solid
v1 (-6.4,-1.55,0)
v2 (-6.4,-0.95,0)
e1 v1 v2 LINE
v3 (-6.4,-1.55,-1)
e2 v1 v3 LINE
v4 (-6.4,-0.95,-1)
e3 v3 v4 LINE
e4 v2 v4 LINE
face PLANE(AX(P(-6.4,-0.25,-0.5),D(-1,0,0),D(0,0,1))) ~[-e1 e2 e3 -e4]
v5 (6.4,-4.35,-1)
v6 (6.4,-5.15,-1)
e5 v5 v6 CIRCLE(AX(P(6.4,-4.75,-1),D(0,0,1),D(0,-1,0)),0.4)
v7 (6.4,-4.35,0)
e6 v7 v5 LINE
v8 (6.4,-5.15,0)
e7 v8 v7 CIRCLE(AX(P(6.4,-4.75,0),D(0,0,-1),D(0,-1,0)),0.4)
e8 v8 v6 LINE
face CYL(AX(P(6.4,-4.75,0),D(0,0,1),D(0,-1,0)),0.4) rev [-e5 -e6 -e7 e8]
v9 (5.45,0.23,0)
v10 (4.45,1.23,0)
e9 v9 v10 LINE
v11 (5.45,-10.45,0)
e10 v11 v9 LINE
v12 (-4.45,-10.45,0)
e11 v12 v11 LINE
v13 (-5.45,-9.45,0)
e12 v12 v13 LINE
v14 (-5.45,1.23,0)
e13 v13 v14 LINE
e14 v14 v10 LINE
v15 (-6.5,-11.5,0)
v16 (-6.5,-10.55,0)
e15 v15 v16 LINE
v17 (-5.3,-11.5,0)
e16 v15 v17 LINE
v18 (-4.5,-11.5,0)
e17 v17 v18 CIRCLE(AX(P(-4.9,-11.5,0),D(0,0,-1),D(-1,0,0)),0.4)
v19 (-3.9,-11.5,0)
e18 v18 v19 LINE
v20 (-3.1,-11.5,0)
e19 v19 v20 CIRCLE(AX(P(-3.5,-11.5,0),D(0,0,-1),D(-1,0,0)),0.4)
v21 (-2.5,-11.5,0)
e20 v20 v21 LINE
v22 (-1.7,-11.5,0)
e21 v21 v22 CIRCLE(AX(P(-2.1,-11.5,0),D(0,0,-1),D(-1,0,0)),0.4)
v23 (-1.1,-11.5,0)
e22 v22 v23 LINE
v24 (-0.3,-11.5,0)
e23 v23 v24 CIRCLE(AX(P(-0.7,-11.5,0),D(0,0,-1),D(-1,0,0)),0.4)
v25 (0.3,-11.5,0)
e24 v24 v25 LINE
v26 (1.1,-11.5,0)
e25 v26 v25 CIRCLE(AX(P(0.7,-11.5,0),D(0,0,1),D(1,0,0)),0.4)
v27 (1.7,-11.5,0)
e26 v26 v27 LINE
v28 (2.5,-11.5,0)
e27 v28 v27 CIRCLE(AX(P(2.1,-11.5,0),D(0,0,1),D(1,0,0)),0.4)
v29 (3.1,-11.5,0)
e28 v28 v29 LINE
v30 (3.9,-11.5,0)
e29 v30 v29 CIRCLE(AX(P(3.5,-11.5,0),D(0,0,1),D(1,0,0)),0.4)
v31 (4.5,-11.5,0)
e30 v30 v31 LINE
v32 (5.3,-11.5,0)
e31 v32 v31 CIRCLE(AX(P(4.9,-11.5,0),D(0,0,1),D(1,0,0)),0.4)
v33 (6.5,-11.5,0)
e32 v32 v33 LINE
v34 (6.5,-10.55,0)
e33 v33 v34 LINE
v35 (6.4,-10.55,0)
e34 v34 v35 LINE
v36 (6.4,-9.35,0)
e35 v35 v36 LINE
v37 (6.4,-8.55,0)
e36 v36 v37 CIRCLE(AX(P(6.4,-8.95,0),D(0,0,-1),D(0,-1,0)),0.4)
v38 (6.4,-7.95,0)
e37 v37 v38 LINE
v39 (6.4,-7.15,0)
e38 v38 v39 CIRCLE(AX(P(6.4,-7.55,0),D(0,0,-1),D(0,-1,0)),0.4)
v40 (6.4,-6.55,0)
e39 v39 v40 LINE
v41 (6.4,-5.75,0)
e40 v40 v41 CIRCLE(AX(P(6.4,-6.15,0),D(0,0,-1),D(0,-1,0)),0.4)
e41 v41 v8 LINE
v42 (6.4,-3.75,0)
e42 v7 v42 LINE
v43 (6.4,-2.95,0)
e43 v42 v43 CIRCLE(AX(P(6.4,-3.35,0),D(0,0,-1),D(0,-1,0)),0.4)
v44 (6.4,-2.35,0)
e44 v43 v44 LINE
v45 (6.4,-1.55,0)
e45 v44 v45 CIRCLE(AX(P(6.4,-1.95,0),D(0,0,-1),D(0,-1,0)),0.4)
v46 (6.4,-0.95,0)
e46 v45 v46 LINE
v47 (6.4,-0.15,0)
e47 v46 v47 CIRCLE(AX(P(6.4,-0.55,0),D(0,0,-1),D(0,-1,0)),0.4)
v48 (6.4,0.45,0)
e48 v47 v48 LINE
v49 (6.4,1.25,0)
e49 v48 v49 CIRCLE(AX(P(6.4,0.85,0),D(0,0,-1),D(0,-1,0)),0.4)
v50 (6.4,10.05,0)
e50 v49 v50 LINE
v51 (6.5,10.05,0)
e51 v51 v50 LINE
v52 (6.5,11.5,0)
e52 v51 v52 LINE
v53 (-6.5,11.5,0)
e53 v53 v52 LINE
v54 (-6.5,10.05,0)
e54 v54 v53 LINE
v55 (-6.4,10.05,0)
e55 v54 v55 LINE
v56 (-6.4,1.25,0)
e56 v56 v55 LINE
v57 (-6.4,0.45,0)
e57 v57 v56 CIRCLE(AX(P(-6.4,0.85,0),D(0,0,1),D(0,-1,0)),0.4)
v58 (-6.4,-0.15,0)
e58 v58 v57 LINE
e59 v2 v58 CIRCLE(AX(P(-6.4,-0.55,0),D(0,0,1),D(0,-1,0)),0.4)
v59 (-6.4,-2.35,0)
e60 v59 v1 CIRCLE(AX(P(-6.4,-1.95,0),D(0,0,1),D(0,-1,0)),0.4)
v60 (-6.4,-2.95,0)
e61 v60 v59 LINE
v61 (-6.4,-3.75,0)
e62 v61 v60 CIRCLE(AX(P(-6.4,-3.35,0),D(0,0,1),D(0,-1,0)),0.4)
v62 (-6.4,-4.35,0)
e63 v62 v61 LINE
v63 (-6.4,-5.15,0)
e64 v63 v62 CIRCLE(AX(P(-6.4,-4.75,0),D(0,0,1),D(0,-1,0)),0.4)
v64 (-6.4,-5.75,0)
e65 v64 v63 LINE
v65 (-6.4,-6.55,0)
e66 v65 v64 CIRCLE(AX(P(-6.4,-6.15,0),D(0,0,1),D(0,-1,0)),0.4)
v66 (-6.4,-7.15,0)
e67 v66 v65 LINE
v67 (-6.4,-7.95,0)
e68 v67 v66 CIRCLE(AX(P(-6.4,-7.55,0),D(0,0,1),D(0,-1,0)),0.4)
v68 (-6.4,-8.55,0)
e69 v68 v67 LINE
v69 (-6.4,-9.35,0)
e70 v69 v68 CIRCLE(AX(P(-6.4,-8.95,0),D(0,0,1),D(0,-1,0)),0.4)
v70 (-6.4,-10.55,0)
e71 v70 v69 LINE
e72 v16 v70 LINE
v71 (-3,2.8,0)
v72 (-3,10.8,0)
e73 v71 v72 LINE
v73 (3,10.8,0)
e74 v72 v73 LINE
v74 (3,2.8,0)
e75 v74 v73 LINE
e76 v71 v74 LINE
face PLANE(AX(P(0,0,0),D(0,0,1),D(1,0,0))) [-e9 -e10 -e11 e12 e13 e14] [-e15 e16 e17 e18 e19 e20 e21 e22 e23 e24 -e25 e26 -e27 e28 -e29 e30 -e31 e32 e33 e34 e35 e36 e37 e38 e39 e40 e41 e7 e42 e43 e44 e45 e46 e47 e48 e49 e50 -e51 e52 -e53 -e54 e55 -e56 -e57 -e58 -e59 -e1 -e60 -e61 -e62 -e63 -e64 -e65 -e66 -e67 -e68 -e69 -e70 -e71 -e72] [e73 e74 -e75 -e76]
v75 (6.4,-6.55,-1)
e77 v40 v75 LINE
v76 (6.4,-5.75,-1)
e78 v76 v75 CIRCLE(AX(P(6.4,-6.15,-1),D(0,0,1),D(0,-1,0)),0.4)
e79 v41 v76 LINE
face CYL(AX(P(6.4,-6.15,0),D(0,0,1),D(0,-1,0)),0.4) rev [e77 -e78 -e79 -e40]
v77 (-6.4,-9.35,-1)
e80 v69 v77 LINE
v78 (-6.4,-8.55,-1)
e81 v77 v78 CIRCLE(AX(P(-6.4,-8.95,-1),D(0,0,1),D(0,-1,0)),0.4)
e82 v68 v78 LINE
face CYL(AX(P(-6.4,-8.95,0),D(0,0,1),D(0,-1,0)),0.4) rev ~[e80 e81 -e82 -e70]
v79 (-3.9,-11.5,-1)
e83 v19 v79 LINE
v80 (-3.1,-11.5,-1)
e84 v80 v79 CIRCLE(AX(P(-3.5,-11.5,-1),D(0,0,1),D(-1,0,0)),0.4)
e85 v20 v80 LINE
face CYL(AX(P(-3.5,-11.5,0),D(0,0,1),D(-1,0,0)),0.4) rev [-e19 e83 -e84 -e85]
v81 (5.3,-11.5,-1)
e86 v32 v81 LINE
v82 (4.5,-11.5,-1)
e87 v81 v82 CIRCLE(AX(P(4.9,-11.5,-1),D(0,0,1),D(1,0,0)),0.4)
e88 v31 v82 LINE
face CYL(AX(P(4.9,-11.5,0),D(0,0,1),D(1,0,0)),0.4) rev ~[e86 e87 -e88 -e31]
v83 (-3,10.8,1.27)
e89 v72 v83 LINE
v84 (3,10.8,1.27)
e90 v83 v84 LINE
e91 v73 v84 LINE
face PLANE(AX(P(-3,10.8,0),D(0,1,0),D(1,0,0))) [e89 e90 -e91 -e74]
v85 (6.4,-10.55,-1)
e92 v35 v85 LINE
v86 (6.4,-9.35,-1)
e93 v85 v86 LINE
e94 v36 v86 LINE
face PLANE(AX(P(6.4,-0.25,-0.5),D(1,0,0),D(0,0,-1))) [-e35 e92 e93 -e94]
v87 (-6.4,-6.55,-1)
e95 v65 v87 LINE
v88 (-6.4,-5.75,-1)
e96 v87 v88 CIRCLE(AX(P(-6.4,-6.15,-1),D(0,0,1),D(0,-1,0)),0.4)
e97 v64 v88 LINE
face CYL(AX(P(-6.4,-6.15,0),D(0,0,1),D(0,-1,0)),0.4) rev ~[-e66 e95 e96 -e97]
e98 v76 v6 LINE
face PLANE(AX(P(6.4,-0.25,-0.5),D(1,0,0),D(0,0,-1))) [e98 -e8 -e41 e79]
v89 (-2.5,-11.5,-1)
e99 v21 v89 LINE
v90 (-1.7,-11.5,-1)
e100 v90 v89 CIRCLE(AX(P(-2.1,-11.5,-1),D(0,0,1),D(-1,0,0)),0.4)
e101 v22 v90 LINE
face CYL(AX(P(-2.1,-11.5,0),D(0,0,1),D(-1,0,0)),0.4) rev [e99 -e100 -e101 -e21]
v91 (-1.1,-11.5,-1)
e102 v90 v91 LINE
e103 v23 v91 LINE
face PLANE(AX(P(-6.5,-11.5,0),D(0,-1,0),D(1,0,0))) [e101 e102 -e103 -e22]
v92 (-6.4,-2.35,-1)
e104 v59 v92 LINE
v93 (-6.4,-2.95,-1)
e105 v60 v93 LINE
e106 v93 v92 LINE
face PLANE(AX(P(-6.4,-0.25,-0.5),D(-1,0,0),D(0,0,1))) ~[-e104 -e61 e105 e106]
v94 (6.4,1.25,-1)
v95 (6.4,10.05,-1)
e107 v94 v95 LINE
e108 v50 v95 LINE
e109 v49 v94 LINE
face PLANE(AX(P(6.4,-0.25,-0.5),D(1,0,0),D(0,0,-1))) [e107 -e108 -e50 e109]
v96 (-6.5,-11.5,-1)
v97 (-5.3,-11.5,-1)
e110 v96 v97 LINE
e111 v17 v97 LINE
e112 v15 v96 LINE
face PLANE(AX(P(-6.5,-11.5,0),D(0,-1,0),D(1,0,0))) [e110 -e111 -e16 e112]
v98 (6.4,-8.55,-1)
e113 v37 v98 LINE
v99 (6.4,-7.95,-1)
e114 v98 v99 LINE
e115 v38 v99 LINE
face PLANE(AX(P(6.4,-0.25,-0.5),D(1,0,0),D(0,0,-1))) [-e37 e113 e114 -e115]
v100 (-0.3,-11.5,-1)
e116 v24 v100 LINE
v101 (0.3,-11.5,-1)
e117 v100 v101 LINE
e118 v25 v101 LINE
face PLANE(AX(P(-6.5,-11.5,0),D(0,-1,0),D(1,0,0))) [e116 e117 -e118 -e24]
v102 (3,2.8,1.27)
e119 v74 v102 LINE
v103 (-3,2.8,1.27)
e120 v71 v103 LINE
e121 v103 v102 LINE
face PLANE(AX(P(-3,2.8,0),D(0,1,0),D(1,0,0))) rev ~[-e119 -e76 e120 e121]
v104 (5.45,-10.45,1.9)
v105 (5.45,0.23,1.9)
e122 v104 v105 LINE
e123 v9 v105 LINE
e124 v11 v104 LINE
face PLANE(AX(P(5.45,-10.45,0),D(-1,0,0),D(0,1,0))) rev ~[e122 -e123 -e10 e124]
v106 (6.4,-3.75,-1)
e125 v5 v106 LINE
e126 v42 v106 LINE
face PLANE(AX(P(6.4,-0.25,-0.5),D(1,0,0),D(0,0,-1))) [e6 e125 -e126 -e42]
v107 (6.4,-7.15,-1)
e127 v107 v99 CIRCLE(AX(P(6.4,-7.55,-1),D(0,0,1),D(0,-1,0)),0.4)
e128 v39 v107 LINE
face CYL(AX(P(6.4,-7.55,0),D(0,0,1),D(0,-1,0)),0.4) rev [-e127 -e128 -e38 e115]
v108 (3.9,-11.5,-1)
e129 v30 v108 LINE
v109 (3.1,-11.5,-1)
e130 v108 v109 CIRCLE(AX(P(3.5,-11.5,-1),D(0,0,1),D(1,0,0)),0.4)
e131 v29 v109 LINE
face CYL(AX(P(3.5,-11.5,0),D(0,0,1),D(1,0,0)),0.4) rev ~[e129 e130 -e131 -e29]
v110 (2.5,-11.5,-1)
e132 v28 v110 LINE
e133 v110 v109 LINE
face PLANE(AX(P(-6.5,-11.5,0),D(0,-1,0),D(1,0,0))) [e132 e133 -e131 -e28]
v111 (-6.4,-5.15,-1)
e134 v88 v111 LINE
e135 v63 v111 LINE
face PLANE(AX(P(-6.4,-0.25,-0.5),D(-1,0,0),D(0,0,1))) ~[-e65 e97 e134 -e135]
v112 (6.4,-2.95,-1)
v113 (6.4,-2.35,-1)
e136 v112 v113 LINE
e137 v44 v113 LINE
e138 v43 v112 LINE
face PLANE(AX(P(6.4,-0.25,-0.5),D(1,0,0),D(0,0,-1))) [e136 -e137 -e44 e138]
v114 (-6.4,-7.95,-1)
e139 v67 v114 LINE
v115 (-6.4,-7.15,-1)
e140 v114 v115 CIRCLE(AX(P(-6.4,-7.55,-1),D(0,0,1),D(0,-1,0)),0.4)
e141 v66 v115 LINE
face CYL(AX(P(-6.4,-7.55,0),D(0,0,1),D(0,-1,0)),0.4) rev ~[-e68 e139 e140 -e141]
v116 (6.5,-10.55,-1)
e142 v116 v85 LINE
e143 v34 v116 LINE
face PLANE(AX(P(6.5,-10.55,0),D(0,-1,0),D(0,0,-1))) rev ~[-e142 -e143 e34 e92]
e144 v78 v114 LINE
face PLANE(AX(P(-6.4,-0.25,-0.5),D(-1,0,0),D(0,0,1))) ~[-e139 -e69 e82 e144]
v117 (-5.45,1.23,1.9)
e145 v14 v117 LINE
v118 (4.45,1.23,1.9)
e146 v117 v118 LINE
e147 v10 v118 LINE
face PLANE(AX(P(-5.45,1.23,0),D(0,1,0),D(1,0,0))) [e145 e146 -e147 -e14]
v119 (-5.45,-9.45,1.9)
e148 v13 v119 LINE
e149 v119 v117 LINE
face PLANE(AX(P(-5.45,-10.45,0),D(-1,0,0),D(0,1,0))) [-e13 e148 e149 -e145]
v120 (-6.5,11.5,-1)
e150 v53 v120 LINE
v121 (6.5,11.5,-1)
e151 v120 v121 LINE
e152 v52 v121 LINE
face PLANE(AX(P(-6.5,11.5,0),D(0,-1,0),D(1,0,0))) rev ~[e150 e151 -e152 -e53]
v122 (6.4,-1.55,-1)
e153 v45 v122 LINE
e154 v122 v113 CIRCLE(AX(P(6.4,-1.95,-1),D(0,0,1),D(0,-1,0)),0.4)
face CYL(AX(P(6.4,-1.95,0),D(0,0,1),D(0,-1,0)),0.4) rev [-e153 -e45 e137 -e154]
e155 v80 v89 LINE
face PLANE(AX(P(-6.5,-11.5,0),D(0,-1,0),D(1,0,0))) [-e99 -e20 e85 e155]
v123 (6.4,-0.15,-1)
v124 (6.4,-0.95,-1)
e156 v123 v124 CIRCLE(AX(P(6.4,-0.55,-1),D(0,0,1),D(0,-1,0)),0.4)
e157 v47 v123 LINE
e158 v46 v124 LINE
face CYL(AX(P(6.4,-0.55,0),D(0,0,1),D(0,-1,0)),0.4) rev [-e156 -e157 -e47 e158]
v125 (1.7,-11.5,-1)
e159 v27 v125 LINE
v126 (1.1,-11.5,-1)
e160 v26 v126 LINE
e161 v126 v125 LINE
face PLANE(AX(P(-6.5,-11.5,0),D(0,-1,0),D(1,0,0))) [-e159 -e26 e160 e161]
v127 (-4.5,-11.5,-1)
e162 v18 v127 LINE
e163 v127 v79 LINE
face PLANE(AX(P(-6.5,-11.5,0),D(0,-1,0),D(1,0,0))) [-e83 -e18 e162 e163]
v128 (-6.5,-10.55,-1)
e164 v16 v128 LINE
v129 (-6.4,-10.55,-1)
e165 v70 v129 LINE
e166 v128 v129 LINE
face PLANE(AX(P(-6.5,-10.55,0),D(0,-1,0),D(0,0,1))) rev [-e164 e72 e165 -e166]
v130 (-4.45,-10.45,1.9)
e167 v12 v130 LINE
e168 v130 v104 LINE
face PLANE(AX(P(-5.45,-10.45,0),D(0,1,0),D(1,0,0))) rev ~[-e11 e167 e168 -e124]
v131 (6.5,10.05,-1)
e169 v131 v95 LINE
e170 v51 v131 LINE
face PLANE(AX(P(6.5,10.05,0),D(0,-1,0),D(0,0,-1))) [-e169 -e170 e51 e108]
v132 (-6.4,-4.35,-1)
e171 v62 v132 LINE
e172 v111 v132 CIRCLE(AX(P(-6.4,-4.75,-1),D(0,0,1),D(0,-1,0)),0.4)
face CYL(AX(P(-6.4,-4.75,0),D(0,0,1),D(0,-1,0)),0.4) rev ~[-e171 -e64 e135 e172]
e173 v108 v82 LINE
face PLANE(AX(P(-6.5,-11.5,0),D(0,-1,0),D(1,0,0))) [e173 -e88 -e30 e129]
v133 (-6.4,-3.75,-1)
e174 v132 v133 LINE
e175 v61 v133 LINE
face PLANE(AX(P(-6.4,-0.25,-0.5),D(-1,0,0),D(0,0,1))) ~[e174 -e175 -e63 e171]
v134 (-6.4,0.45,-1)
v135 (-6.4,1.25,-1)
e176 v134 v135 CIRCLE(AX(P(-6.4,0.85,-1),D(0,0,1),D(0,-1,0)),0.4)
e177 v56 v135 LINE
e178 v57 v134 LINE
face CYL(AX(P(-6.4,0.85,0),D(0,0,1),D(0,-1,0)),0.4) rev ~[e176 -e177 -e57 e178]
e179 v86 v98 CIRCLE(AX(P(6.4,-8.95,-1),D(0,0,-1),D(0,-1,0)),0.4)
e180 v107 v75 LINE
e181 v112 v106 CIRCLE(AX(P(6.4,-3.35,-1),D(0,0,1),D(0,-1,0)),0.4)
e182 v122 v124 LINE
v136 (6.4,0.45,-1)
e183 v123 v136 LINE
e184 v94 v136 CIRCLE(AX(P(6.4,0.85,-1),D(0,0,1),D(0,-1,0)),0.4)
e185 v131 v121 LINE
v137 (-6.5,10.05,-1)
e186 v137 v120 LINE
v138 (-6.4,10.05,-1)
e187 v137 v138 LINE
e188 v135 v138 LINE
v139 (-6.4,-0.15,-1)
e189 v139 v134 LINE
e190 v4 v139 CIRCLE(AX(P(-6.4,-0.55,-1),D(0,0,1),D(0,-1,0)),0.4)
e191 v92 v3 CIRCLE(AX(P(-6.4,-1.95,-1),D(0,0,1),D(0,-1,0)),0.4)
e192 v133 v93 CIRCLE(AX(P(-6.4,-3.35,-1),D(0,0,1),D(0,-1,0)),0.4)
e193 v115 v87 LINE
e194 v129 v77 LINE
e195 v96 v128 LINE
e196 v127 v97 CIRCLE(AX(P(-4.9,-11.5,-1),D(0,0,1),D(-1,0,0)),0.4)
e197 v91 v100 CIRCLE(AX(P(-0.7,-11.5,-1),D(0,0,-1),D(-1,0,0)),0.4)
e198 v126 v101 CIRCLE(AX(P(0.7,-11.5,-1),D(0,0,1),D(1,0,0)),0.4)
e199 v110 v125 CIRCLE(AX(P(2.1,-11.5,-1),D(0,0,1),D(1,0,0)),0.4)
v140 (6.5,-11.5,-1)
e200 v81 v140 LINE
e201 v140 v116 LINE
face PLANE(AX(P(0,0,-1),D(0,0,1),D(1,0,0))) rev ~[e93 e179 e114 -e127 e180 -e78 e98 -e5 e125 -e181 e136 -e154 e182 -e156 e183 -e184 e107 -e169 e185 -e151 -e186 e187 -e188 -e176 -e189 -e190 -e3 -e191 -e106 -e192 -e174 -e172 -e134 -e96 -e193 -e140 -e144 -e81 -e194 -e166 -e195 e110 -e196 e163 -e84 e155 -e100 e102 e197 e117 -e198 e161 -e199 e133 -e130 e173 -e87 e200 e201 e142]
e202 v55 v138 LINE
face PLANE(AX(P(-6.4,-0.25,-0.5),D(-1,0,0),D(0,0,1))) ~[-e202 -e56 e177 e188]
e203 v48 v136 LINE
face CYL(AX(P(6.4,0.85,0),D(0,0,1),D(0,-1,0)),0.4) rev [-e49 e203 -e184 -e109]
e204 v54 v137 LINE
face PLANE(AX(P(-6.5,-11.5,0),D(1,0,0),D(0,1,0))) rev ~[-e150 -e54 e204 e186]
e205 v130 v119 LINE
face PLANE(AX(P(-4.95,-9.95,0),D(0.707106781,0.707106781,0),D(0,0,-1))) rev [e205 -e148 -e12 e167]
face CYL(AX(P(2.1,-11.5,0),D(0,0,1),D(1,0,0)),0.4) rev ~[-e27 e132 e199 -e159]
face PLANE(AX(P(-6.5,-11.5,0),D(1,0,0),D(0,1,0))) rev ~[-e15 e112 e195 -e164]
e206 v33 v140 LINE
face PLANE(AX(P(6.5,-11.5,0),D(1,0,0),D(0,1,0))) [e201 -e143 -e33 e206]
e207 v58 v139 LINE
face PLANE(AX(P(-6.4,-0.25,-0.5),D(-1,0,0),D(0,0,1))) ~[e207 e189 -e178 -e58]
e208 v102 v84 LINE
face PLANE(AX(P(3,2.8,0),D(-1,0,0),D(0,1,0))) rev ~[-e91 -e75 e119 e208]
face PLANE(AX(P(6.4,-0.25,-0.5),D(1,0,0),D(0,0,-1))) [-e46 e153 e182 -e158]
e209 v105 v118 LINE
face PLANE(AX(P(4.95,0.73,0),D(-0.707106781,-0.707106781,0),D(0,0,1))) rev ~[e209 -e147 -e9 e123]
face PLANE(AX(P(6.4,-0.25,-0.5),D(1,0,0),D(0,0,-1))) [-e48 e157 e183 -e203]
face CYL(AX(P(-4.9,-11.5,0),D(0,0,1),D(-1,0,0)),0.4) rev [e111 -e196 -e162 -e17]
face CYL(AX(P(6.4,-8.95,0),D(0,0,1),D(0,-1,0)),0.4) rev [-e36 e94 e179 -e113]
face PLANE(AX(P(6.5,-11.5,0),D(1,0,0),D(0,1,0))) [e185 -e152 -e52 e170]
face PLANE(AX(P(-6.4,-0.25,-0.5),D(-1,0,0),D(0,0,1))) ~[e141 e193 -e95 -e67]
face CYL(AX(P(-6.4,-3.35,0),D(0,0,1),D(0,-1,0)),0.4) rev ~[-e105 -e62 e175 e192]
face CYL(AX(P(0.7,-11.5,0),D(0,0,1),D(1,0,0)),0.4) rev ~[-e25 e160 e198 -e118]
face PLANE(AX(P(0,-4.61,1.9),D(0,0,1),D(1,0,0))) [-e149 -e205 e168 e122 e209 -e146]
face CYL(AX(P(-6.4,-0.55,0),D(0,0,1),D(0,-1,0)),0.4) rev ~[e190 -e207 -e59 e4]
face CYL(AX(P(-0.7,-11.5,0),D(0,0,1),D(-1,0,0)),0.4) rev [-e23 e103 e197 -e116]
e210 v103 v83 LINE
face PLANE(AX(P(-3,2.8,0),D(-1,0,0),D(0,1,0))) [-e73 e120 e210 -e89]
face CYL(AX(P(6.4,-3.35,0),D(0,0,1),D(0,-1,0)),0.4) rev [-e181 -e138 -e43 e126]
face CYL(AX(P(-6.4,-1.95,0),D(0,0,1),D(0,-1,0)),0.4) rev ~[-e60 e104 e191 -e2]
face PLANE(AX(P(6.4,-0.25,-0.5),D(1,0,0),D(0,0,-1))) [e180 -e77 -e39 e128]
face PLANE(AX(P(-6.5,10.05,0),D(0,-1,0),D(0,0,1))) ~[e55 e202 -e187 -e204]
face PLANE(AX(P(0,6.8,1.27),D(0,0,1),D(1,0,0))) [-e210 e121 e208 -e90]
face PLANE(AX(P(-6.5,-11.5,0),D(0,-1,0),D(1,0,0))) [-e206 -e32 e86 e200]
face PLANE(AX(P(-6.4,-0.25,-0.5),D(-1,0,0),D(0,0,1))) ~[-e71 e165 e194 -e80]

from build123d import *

# Parameters (mm, degrees)
SKETCH_1_W             = 13
SKETCH_1_H             = 23
EXTRUDE_1_DEPTH        = 1
SKETCH_2_W             = 1
SKETCH_2_H             = 20.6
CUT_EXTRUDE_1_DEPTH    = 0.1
CUT_EXTRUDE_3_REACH    = 15.248
PATTERN_LINEAR_8_COUNT = 4
PATTERN_LINEAR_8_PITCH = 1.4
MIRROR_3_COPY_1_REACH  = 15.248
MIRROR_3_COPY_2_REACH  = 15.248
MIRROR_3_COPY_3_REACH  = 15.248
CUT_EXTRUDE_4_REACH    = 15.248
PATTERN_LINEAR_9_COUNT = 8
PATTERN_LINEAR_9_PITCH = 1.4
MIRROR_4_COPY_1_REACH  = 15.248
MIRROR_4_COPY_2_REACH  = 15.248
MIRROR_4_COPY_3_REACH  = 15.248
MIRROR_4_COPY_4_REACH  = 15.248
MIRROR_4_COPY_5_REACH  = 15.248
MIRROR_4_COPY_6_REACH  = 15.248
MIRROR_4_COPY_7_REACH  = 15.248
SKETCH_12_W            = 10.9
SKETCH_12_H            = 11.68
EXTRUDE_2_DEPTH        = 1.9
CHAMFER_1_SIZE         = 1
CHAMFER_2_SIZE         = 1
SKETCH_13_W            = 6
SKETCH_13_H            = 8
EXTRUDE_3_DEPTH        = 1.27


with BuildPart() as part:
    # 草图1 → 凸台-拉伸1 (new body)
    with BuildSketch(Plane.XY):
        Rectangle(SKETCH_1_W, SKETCH_1_H)
    extrude(amount=-EXTRUDE_1_DEPTH)

    # 草图2 → 切除-拉伸1 (cut)
    with BuildSketch(Plane(origin=(6.5, 0, 0), x_dir=(0, 0, -1), z_dir=(1, 0, 0))):
        with Locations((0.5, -0.25)):
            Rectangle(SKETCH_2_W, SKETCH_2_H)
    cut_extrude_1 = extrude(amount=-CUT_EXTRUDE_1_DEPTH, mode=Mode.SUBTRACT)

    # 镜向1: 切除-拉伸1 across plane
    add(cut_extrude_1.mirror(Plane.ZY), mode=Mode.SUBTRACT)

    # 草图5 → 切除-拉伸3 (cut, up to next)
    with BuildSketch(Plane.XY, mode=Mode.PRIVATE) as cut_extrude_3_sk1:
        with BuildLine():
            Line((0.3, -11.5), (1.1, -11.5))
            ThreePointArc((1.1, -11.5), (0.7, -11.1), (0.3, -11.5))
        make_face()
    cut_extrude_3_tool1 = extrude(cut_extrude_3_sk1.sketch, amount=-CUT_EXTRUDE_3_REACH, mode=Mode.PRIVATE) & part.part
    cut_extrude_3 = cut_extrude_3_tool1.solids().sort_by_distance((0.7, -11.330235, 0))[0]
    add(cut_extrude_3, mode=Mode.SUBTRACT)

    # 阵列(线性)8: 切除-拉伸3 ×4
    with Locations(*[(i * PATTERN_LINEAR_8_PITCH, 0, 0) for i in range(1, PATTERN_LINEAR_8_COUNT)]):
        add(cut_extrude_3, mode=Mode.SUBTRACT)

    # 镜向3: 切除-拉伸3 across plane
    add(cut_extrude_3.mirror(Plane.ZY), mode=Mode.SUBTRACT)

    # 镜向3 copy 1 sketch → 镜向3 copy 1 (cut, up to next)
    with BuildSketch(Plane(origin=(-1.4, 0, 0), x_dir=(-1, 0, 0), z_dir=(0, 0, 1)), mode=Mode.PRIVATE) as mirror_3_copy_1_sk1:
        with BuildLine():
            Line((0.3, 11.5), (1.1, 11.5))
            ThreePointArc((1.1, 11.5), (0.7, 11.1), (0.3, 11.5))
        make_face()
    mirror_3_copy_1_tool1 = extrude(mirror_3_copy_1_sk1.sketch, amount=-MIRROR_3_COPY_1_REACH, mode=Mode.PRIVATE) & part.part
    add(mirror_3_copy_1_tool1.solids().sort_by_distance((-2.1, -11.330235, 0))[0], mode=Mode.SUBTRACT)

    # 镜向3 copy 2 sketch → 镜向3 copy 2 (cut, up to next)
    with BuildSketch(Plane(origin=(-2.8, 0, 0), x_dir=(-1, 0, 0), z_dir=(0, 0, 1)), mode=Mode.PRIVATE) as mirror_3_copy_2_sk1:
        with BuildLine():
            Line((0.3, 11.5), (1.1, 11.5))
            ThreePointArc((1.1, 11.5), (0.7, 11.1), (0.3, 11.5))
        make_face()
    mirror_3_copy_2_tool1 = extrude(mirror_3_copy_2_sk1.sketch, amount=-MIRROR_3_COPY_2_REACH, mode=Mode.PRIVATE) & part.part
    add(mirror_3_copy_2_tool1.solids().sort_by_distance((-3.5, -11.330235, 0))[0], mode=Mode.SUBTRACT)

    # 镜向3 copy 3 sketch → 镜向3 copy 3 (cut, up to next)
    with BuildSketch(Plane(origin=(-4.2, 0, 0), x_dir=(-1, 0, 0), z_dir=(0, 0, 1)), mode=Mode.PRIVATE) as mirror_3_copy_3_sk1:
        with BuildLine():
            Line((0.3, 11.5), (1.1, 11.5))
            ThreePointArc((1.1, 11.5), (0.7, 11.1), (0.3, 11.5))
        make_face()
    mirror_3_copy_3_tool1 = extrude(mirror_3_copy_3_sk1.sketch, amount=-MIRROR_3_COPY_3_REACH, mode=Mode.PRIVATE) & part.part
    add(mirror_3_copy_3_tool1.solids().sort_by_distance((-4.9, -11.330235, 0))[0], mode=Mode.SUBTRACT)

    # 草图11 → 切除-拉伸4 (cut, up to next)
    with BuildSketch(Plane.XY, mode=Mode.PRIVATE) as cut_extrude_4_sk1:
        with BuildLine():
            Line((-6.4, -8.55), (-6.4, -9.35))
            ThreePointArc((-6.4, -9.35), (-6, -8.95), (-6.4, -8.55))
        make_face()
    cut_extrude_4_tool1 = extrude(cut_extrude_4_sk1.sketch, amount=-CUT_EXTRUDE_4_REACH, mode=Mode.PRIVATE) & part.part
    cut_extrude_4 = cut_extrude_4_tool1.solids().sort_by_distance((-6.230235, -8.95, 0))[0]
    add(cut_extrude_4, mode=Mode.SUBTRACT)

    # 阵列(线性)9: 切除-拉伸4 ×8
    with Locations(*[(0, i * PATTERN_LINEAR_9_PITCH, 0) for i in range(1, PATTERN_LINEAR_9_COUNT)]):
        add(cut_extrude_4, mode=Mode.SUBTRACT)

    # 镜向4: 切除-拉伸4 across plane
    add(cut_extrude_4.mirror(Plane.ZY), mode=Mode.SUBTRACT)

    # 镜向4 copy 1 sketch → 镜向4 copy 1 (cut, up to next)
    with BuildSketch(Plane(origin=(0, 1.4, 0), x_dir=(-1, 0, 0), z_dir=(0, 0, 1)), mode=Mode.PRIVATE) as mirror_4_copy_1_sk1:
        with BuildLine():
            Line((-6.4, 8.55), (-6.4, 9.35))
            ThreePointArc((-6.4, 9.35), (-6, 8.95), (-6.4, 8.55))
        make_face()
    mirror_4_copy_1_tool1 = extrude(mirror_4_copy_1_sk1.sketch, amount=-MIRROR_4_COPY_1_REACH, mode=Mode.PRIVATE) & part.part
    add(mirror_4_copy_1_tool1.solids().sort_by_distance((6.230235, -7.55, 0))[0], mode=Mode.SUBTRACT)

    # 镜向4 copy 2 sketch → 镜向4 copy 2 (cut, up to next)
    with BuildSketch(Plane(origin=(0, 2.8, 0), x_dir=(-1, 0, 0), z_dir=(0, 0, 1)), mode=Mode.PRIVATE) as mirror_4_copy_2_sk1:
        with BuildLine():
            Line((-6.4, 8.55), (-6.4, 9.35))
            ThreePointArc((-6.4, 9.35), (-6, 8.95), (-6.4, 8.55))
        make_face()
    mirror_4_copy_2_tool1 = extrude(mirror_4_copy_2_sk1.sketch, amount=-MIRROR_4_COPY_2_REACH, mode=Mode.PRIVATE) & part.part
    add(mirror_4_copy_2_tool1.solids().sort_by_distance((6.230235, -6.15, 0))[0], mode=Mode.SUBTRACT)

    # 镜向4 copy 3 sketch → 镜向4 copy 3 (cut, up to next)
    with BuildSketch(Plane(origin=(0, 4.2, 0), x_dir=(-1, 0, 0), z_dir=(0, 0, 1)), mode=Mode.PRIVATE) as mirror_4_copy_3_sk1:
        with BuildLine():
            Line((-6.4, 8.55), (-6.4, 9.35))
            ThreePointArc((-6.4, 9.35), (-6, 8.95), (-6.4, 8.55))
        make_face()
    mirror_4_copy_3_tool1 = extrude(mirror_4_copy_3_sk1.sketch, amount=-MIRROR_4_COPY_3_REACH, mode=Mode.PRIVATE) & part.part
    add(mirror_4_copy_3_tool1.solids().sort_by_distance((6.230235, -4.75, 0))[0], mode=Mode.SUBTRACT)

    # 镜向4 copy 4 sketch → 镜向4 copy 4 (cut, up to next)
    with BuildSketch(Plane(origin=(0, 5.6, 0), x_dir=(-1, 0, 0), z_dir=(0, 0, 1)), mode=Mode.PRIVATE) as mirror_4_copy_4_sk1:
        with BuildLine():
            Line((-6.4, 8.55), (-6.4, 9.35))
            ThreePointArc((-6.4, 9.35), (-6, 8.95), (-6.4, 8.55))
        make_face()
    mirror_4_copy_4_tool1 = extrude(mirror_4_copy_4_sk1.sketch, amount=-MIRROR_4_COPY_4_REACH, mode=Mode.PRIVATE) & part.part
    add(mirror_4_copy_4_tool1.solids().sort_by_distance((6.230235, -3.35, 0))[0], mode=Mode.SUBTRACT)

    # 镜向4 copy 5 sketch → 镜向4 copy 5 (cut, up to next)
    with BuildSketch(Plane(origin=(0, 7, 0), x_dir=(-1, 0, 0), z_dir=(0, 0, 1)), mode=Mode.PRIVATE) as mirror_4_copy_5_sk1:
        with BuildLine():
            Line((-6.4, 8.55), (-6.4, 9.35))
            ThreePointArc((-6.4, 9.35), (-6, 8.95), (-6.4, 8.55))
        make_face()
    mirror_4_copy_5_tool1 = extrude(mirror_4_copy_5_sk1.sketch, amount=-MIRROR_4_COPY_5_REACH, mode=Mode.PRIVATE) & part.part
    add(mirror_4_copy_5_tool1.solids().sort_by_distance((6.230235, -1.95, 0))[0], mode=Mode.SUBTRACT)

    # 镜向4 copy 6 sketch → 镜向4 copy 6 (cut, up to next)
    with BuildSketch(Plane(origin=(0, 8.4, 0), x_dir=(-1, 0, 0), z_dir=(0, 0, 1)), mode=Mode.PRIVATE) as mirror_4_copy_6_sk1:
        with BuildLine():
            Line((-6.4, 8.55), (-6.4, 9.35))
            ThreePointArc((-6.4, 9.35), (-6, 8.95), (-6.4, 8.55))
        make_face()
    mirror_4_copy_6_tool1 = extrude(mirror_4_copy_6_sk1.sketch, amount=-MIRROR_4_COPY_6_REACH, mode=Mode.PRIVATE) & part.part
    add(mirror_4_copy_6_tool1.solids().sort_by_distance((6.230235, -0.55, 0))[0], mode=Mode.SUBTRACT)

    # 镜向4 copy 7 sketch → 镜向4 copy 7 (cut, up to next)
    with BuildSketch(Plane(origin=(0, 9.8, 0), x_dir=(-1, 0, 0), z_dir=(0, 0, 1)), mode=Mode.PRIVATE) as mirror_4_copy_7_sk1:
        with BuildLine():
            Line((-6.4, 8.55), (-6.4, 9.35))
            ThreePointArc((-6.4, 9.35), (-6, 8.95), (-6.4, 8.55))
        make_face()
    mirror_4_copy_7_tool1 = extrude(mirror_4_copy_7_sk1.sketch, amount=-MIRROR_4_COPY_7_REACH, mode=Mode.PRIVATE) & part.part
    add(mirror_4_copy_7_tool1.solids().sort_by_distance((6.230235, 0.85, 0))[0], mode=Mode.SUBTRACT)

    # 草图12 → 凸台-拉伸2 (add)
    with BuildSketch(Plane.XY):
        with Locations((0, -4.61)):
            Rectangle(SKETCH_12_W, SKETCH_12_H)
    extrude(amount=EXTRUDE_2_DEPTH)

    # 倒角1
    chamfer_1_edges = [part.edges().sort_by_distance(p)[0] for p in [
        (5.45, 1.23, 0.95),
    ]]
    chamfer(chamfer_1_edges, length=CHAMFER_1_SIZE)

    # 倒角2
    chamfer_2_edges = [part.edges().sort_by_distance(p)[0] for p in [
        (-5.45, -10.45, 0.95),
    ]]
    chamfer(chamfer_2_edges, length=CHAMFER_2_SIZE)

    # 草图13 → 凸台-拉伸3 (add)
    with BuildSketch(Plane.XY):
        with Locations((0, 6.8)):
            Rectangle(SKETCH_13_W, SKETCH_13_H)
    extrude(amount=EXTRUDE_3_DEPTH)


solid = part.part
